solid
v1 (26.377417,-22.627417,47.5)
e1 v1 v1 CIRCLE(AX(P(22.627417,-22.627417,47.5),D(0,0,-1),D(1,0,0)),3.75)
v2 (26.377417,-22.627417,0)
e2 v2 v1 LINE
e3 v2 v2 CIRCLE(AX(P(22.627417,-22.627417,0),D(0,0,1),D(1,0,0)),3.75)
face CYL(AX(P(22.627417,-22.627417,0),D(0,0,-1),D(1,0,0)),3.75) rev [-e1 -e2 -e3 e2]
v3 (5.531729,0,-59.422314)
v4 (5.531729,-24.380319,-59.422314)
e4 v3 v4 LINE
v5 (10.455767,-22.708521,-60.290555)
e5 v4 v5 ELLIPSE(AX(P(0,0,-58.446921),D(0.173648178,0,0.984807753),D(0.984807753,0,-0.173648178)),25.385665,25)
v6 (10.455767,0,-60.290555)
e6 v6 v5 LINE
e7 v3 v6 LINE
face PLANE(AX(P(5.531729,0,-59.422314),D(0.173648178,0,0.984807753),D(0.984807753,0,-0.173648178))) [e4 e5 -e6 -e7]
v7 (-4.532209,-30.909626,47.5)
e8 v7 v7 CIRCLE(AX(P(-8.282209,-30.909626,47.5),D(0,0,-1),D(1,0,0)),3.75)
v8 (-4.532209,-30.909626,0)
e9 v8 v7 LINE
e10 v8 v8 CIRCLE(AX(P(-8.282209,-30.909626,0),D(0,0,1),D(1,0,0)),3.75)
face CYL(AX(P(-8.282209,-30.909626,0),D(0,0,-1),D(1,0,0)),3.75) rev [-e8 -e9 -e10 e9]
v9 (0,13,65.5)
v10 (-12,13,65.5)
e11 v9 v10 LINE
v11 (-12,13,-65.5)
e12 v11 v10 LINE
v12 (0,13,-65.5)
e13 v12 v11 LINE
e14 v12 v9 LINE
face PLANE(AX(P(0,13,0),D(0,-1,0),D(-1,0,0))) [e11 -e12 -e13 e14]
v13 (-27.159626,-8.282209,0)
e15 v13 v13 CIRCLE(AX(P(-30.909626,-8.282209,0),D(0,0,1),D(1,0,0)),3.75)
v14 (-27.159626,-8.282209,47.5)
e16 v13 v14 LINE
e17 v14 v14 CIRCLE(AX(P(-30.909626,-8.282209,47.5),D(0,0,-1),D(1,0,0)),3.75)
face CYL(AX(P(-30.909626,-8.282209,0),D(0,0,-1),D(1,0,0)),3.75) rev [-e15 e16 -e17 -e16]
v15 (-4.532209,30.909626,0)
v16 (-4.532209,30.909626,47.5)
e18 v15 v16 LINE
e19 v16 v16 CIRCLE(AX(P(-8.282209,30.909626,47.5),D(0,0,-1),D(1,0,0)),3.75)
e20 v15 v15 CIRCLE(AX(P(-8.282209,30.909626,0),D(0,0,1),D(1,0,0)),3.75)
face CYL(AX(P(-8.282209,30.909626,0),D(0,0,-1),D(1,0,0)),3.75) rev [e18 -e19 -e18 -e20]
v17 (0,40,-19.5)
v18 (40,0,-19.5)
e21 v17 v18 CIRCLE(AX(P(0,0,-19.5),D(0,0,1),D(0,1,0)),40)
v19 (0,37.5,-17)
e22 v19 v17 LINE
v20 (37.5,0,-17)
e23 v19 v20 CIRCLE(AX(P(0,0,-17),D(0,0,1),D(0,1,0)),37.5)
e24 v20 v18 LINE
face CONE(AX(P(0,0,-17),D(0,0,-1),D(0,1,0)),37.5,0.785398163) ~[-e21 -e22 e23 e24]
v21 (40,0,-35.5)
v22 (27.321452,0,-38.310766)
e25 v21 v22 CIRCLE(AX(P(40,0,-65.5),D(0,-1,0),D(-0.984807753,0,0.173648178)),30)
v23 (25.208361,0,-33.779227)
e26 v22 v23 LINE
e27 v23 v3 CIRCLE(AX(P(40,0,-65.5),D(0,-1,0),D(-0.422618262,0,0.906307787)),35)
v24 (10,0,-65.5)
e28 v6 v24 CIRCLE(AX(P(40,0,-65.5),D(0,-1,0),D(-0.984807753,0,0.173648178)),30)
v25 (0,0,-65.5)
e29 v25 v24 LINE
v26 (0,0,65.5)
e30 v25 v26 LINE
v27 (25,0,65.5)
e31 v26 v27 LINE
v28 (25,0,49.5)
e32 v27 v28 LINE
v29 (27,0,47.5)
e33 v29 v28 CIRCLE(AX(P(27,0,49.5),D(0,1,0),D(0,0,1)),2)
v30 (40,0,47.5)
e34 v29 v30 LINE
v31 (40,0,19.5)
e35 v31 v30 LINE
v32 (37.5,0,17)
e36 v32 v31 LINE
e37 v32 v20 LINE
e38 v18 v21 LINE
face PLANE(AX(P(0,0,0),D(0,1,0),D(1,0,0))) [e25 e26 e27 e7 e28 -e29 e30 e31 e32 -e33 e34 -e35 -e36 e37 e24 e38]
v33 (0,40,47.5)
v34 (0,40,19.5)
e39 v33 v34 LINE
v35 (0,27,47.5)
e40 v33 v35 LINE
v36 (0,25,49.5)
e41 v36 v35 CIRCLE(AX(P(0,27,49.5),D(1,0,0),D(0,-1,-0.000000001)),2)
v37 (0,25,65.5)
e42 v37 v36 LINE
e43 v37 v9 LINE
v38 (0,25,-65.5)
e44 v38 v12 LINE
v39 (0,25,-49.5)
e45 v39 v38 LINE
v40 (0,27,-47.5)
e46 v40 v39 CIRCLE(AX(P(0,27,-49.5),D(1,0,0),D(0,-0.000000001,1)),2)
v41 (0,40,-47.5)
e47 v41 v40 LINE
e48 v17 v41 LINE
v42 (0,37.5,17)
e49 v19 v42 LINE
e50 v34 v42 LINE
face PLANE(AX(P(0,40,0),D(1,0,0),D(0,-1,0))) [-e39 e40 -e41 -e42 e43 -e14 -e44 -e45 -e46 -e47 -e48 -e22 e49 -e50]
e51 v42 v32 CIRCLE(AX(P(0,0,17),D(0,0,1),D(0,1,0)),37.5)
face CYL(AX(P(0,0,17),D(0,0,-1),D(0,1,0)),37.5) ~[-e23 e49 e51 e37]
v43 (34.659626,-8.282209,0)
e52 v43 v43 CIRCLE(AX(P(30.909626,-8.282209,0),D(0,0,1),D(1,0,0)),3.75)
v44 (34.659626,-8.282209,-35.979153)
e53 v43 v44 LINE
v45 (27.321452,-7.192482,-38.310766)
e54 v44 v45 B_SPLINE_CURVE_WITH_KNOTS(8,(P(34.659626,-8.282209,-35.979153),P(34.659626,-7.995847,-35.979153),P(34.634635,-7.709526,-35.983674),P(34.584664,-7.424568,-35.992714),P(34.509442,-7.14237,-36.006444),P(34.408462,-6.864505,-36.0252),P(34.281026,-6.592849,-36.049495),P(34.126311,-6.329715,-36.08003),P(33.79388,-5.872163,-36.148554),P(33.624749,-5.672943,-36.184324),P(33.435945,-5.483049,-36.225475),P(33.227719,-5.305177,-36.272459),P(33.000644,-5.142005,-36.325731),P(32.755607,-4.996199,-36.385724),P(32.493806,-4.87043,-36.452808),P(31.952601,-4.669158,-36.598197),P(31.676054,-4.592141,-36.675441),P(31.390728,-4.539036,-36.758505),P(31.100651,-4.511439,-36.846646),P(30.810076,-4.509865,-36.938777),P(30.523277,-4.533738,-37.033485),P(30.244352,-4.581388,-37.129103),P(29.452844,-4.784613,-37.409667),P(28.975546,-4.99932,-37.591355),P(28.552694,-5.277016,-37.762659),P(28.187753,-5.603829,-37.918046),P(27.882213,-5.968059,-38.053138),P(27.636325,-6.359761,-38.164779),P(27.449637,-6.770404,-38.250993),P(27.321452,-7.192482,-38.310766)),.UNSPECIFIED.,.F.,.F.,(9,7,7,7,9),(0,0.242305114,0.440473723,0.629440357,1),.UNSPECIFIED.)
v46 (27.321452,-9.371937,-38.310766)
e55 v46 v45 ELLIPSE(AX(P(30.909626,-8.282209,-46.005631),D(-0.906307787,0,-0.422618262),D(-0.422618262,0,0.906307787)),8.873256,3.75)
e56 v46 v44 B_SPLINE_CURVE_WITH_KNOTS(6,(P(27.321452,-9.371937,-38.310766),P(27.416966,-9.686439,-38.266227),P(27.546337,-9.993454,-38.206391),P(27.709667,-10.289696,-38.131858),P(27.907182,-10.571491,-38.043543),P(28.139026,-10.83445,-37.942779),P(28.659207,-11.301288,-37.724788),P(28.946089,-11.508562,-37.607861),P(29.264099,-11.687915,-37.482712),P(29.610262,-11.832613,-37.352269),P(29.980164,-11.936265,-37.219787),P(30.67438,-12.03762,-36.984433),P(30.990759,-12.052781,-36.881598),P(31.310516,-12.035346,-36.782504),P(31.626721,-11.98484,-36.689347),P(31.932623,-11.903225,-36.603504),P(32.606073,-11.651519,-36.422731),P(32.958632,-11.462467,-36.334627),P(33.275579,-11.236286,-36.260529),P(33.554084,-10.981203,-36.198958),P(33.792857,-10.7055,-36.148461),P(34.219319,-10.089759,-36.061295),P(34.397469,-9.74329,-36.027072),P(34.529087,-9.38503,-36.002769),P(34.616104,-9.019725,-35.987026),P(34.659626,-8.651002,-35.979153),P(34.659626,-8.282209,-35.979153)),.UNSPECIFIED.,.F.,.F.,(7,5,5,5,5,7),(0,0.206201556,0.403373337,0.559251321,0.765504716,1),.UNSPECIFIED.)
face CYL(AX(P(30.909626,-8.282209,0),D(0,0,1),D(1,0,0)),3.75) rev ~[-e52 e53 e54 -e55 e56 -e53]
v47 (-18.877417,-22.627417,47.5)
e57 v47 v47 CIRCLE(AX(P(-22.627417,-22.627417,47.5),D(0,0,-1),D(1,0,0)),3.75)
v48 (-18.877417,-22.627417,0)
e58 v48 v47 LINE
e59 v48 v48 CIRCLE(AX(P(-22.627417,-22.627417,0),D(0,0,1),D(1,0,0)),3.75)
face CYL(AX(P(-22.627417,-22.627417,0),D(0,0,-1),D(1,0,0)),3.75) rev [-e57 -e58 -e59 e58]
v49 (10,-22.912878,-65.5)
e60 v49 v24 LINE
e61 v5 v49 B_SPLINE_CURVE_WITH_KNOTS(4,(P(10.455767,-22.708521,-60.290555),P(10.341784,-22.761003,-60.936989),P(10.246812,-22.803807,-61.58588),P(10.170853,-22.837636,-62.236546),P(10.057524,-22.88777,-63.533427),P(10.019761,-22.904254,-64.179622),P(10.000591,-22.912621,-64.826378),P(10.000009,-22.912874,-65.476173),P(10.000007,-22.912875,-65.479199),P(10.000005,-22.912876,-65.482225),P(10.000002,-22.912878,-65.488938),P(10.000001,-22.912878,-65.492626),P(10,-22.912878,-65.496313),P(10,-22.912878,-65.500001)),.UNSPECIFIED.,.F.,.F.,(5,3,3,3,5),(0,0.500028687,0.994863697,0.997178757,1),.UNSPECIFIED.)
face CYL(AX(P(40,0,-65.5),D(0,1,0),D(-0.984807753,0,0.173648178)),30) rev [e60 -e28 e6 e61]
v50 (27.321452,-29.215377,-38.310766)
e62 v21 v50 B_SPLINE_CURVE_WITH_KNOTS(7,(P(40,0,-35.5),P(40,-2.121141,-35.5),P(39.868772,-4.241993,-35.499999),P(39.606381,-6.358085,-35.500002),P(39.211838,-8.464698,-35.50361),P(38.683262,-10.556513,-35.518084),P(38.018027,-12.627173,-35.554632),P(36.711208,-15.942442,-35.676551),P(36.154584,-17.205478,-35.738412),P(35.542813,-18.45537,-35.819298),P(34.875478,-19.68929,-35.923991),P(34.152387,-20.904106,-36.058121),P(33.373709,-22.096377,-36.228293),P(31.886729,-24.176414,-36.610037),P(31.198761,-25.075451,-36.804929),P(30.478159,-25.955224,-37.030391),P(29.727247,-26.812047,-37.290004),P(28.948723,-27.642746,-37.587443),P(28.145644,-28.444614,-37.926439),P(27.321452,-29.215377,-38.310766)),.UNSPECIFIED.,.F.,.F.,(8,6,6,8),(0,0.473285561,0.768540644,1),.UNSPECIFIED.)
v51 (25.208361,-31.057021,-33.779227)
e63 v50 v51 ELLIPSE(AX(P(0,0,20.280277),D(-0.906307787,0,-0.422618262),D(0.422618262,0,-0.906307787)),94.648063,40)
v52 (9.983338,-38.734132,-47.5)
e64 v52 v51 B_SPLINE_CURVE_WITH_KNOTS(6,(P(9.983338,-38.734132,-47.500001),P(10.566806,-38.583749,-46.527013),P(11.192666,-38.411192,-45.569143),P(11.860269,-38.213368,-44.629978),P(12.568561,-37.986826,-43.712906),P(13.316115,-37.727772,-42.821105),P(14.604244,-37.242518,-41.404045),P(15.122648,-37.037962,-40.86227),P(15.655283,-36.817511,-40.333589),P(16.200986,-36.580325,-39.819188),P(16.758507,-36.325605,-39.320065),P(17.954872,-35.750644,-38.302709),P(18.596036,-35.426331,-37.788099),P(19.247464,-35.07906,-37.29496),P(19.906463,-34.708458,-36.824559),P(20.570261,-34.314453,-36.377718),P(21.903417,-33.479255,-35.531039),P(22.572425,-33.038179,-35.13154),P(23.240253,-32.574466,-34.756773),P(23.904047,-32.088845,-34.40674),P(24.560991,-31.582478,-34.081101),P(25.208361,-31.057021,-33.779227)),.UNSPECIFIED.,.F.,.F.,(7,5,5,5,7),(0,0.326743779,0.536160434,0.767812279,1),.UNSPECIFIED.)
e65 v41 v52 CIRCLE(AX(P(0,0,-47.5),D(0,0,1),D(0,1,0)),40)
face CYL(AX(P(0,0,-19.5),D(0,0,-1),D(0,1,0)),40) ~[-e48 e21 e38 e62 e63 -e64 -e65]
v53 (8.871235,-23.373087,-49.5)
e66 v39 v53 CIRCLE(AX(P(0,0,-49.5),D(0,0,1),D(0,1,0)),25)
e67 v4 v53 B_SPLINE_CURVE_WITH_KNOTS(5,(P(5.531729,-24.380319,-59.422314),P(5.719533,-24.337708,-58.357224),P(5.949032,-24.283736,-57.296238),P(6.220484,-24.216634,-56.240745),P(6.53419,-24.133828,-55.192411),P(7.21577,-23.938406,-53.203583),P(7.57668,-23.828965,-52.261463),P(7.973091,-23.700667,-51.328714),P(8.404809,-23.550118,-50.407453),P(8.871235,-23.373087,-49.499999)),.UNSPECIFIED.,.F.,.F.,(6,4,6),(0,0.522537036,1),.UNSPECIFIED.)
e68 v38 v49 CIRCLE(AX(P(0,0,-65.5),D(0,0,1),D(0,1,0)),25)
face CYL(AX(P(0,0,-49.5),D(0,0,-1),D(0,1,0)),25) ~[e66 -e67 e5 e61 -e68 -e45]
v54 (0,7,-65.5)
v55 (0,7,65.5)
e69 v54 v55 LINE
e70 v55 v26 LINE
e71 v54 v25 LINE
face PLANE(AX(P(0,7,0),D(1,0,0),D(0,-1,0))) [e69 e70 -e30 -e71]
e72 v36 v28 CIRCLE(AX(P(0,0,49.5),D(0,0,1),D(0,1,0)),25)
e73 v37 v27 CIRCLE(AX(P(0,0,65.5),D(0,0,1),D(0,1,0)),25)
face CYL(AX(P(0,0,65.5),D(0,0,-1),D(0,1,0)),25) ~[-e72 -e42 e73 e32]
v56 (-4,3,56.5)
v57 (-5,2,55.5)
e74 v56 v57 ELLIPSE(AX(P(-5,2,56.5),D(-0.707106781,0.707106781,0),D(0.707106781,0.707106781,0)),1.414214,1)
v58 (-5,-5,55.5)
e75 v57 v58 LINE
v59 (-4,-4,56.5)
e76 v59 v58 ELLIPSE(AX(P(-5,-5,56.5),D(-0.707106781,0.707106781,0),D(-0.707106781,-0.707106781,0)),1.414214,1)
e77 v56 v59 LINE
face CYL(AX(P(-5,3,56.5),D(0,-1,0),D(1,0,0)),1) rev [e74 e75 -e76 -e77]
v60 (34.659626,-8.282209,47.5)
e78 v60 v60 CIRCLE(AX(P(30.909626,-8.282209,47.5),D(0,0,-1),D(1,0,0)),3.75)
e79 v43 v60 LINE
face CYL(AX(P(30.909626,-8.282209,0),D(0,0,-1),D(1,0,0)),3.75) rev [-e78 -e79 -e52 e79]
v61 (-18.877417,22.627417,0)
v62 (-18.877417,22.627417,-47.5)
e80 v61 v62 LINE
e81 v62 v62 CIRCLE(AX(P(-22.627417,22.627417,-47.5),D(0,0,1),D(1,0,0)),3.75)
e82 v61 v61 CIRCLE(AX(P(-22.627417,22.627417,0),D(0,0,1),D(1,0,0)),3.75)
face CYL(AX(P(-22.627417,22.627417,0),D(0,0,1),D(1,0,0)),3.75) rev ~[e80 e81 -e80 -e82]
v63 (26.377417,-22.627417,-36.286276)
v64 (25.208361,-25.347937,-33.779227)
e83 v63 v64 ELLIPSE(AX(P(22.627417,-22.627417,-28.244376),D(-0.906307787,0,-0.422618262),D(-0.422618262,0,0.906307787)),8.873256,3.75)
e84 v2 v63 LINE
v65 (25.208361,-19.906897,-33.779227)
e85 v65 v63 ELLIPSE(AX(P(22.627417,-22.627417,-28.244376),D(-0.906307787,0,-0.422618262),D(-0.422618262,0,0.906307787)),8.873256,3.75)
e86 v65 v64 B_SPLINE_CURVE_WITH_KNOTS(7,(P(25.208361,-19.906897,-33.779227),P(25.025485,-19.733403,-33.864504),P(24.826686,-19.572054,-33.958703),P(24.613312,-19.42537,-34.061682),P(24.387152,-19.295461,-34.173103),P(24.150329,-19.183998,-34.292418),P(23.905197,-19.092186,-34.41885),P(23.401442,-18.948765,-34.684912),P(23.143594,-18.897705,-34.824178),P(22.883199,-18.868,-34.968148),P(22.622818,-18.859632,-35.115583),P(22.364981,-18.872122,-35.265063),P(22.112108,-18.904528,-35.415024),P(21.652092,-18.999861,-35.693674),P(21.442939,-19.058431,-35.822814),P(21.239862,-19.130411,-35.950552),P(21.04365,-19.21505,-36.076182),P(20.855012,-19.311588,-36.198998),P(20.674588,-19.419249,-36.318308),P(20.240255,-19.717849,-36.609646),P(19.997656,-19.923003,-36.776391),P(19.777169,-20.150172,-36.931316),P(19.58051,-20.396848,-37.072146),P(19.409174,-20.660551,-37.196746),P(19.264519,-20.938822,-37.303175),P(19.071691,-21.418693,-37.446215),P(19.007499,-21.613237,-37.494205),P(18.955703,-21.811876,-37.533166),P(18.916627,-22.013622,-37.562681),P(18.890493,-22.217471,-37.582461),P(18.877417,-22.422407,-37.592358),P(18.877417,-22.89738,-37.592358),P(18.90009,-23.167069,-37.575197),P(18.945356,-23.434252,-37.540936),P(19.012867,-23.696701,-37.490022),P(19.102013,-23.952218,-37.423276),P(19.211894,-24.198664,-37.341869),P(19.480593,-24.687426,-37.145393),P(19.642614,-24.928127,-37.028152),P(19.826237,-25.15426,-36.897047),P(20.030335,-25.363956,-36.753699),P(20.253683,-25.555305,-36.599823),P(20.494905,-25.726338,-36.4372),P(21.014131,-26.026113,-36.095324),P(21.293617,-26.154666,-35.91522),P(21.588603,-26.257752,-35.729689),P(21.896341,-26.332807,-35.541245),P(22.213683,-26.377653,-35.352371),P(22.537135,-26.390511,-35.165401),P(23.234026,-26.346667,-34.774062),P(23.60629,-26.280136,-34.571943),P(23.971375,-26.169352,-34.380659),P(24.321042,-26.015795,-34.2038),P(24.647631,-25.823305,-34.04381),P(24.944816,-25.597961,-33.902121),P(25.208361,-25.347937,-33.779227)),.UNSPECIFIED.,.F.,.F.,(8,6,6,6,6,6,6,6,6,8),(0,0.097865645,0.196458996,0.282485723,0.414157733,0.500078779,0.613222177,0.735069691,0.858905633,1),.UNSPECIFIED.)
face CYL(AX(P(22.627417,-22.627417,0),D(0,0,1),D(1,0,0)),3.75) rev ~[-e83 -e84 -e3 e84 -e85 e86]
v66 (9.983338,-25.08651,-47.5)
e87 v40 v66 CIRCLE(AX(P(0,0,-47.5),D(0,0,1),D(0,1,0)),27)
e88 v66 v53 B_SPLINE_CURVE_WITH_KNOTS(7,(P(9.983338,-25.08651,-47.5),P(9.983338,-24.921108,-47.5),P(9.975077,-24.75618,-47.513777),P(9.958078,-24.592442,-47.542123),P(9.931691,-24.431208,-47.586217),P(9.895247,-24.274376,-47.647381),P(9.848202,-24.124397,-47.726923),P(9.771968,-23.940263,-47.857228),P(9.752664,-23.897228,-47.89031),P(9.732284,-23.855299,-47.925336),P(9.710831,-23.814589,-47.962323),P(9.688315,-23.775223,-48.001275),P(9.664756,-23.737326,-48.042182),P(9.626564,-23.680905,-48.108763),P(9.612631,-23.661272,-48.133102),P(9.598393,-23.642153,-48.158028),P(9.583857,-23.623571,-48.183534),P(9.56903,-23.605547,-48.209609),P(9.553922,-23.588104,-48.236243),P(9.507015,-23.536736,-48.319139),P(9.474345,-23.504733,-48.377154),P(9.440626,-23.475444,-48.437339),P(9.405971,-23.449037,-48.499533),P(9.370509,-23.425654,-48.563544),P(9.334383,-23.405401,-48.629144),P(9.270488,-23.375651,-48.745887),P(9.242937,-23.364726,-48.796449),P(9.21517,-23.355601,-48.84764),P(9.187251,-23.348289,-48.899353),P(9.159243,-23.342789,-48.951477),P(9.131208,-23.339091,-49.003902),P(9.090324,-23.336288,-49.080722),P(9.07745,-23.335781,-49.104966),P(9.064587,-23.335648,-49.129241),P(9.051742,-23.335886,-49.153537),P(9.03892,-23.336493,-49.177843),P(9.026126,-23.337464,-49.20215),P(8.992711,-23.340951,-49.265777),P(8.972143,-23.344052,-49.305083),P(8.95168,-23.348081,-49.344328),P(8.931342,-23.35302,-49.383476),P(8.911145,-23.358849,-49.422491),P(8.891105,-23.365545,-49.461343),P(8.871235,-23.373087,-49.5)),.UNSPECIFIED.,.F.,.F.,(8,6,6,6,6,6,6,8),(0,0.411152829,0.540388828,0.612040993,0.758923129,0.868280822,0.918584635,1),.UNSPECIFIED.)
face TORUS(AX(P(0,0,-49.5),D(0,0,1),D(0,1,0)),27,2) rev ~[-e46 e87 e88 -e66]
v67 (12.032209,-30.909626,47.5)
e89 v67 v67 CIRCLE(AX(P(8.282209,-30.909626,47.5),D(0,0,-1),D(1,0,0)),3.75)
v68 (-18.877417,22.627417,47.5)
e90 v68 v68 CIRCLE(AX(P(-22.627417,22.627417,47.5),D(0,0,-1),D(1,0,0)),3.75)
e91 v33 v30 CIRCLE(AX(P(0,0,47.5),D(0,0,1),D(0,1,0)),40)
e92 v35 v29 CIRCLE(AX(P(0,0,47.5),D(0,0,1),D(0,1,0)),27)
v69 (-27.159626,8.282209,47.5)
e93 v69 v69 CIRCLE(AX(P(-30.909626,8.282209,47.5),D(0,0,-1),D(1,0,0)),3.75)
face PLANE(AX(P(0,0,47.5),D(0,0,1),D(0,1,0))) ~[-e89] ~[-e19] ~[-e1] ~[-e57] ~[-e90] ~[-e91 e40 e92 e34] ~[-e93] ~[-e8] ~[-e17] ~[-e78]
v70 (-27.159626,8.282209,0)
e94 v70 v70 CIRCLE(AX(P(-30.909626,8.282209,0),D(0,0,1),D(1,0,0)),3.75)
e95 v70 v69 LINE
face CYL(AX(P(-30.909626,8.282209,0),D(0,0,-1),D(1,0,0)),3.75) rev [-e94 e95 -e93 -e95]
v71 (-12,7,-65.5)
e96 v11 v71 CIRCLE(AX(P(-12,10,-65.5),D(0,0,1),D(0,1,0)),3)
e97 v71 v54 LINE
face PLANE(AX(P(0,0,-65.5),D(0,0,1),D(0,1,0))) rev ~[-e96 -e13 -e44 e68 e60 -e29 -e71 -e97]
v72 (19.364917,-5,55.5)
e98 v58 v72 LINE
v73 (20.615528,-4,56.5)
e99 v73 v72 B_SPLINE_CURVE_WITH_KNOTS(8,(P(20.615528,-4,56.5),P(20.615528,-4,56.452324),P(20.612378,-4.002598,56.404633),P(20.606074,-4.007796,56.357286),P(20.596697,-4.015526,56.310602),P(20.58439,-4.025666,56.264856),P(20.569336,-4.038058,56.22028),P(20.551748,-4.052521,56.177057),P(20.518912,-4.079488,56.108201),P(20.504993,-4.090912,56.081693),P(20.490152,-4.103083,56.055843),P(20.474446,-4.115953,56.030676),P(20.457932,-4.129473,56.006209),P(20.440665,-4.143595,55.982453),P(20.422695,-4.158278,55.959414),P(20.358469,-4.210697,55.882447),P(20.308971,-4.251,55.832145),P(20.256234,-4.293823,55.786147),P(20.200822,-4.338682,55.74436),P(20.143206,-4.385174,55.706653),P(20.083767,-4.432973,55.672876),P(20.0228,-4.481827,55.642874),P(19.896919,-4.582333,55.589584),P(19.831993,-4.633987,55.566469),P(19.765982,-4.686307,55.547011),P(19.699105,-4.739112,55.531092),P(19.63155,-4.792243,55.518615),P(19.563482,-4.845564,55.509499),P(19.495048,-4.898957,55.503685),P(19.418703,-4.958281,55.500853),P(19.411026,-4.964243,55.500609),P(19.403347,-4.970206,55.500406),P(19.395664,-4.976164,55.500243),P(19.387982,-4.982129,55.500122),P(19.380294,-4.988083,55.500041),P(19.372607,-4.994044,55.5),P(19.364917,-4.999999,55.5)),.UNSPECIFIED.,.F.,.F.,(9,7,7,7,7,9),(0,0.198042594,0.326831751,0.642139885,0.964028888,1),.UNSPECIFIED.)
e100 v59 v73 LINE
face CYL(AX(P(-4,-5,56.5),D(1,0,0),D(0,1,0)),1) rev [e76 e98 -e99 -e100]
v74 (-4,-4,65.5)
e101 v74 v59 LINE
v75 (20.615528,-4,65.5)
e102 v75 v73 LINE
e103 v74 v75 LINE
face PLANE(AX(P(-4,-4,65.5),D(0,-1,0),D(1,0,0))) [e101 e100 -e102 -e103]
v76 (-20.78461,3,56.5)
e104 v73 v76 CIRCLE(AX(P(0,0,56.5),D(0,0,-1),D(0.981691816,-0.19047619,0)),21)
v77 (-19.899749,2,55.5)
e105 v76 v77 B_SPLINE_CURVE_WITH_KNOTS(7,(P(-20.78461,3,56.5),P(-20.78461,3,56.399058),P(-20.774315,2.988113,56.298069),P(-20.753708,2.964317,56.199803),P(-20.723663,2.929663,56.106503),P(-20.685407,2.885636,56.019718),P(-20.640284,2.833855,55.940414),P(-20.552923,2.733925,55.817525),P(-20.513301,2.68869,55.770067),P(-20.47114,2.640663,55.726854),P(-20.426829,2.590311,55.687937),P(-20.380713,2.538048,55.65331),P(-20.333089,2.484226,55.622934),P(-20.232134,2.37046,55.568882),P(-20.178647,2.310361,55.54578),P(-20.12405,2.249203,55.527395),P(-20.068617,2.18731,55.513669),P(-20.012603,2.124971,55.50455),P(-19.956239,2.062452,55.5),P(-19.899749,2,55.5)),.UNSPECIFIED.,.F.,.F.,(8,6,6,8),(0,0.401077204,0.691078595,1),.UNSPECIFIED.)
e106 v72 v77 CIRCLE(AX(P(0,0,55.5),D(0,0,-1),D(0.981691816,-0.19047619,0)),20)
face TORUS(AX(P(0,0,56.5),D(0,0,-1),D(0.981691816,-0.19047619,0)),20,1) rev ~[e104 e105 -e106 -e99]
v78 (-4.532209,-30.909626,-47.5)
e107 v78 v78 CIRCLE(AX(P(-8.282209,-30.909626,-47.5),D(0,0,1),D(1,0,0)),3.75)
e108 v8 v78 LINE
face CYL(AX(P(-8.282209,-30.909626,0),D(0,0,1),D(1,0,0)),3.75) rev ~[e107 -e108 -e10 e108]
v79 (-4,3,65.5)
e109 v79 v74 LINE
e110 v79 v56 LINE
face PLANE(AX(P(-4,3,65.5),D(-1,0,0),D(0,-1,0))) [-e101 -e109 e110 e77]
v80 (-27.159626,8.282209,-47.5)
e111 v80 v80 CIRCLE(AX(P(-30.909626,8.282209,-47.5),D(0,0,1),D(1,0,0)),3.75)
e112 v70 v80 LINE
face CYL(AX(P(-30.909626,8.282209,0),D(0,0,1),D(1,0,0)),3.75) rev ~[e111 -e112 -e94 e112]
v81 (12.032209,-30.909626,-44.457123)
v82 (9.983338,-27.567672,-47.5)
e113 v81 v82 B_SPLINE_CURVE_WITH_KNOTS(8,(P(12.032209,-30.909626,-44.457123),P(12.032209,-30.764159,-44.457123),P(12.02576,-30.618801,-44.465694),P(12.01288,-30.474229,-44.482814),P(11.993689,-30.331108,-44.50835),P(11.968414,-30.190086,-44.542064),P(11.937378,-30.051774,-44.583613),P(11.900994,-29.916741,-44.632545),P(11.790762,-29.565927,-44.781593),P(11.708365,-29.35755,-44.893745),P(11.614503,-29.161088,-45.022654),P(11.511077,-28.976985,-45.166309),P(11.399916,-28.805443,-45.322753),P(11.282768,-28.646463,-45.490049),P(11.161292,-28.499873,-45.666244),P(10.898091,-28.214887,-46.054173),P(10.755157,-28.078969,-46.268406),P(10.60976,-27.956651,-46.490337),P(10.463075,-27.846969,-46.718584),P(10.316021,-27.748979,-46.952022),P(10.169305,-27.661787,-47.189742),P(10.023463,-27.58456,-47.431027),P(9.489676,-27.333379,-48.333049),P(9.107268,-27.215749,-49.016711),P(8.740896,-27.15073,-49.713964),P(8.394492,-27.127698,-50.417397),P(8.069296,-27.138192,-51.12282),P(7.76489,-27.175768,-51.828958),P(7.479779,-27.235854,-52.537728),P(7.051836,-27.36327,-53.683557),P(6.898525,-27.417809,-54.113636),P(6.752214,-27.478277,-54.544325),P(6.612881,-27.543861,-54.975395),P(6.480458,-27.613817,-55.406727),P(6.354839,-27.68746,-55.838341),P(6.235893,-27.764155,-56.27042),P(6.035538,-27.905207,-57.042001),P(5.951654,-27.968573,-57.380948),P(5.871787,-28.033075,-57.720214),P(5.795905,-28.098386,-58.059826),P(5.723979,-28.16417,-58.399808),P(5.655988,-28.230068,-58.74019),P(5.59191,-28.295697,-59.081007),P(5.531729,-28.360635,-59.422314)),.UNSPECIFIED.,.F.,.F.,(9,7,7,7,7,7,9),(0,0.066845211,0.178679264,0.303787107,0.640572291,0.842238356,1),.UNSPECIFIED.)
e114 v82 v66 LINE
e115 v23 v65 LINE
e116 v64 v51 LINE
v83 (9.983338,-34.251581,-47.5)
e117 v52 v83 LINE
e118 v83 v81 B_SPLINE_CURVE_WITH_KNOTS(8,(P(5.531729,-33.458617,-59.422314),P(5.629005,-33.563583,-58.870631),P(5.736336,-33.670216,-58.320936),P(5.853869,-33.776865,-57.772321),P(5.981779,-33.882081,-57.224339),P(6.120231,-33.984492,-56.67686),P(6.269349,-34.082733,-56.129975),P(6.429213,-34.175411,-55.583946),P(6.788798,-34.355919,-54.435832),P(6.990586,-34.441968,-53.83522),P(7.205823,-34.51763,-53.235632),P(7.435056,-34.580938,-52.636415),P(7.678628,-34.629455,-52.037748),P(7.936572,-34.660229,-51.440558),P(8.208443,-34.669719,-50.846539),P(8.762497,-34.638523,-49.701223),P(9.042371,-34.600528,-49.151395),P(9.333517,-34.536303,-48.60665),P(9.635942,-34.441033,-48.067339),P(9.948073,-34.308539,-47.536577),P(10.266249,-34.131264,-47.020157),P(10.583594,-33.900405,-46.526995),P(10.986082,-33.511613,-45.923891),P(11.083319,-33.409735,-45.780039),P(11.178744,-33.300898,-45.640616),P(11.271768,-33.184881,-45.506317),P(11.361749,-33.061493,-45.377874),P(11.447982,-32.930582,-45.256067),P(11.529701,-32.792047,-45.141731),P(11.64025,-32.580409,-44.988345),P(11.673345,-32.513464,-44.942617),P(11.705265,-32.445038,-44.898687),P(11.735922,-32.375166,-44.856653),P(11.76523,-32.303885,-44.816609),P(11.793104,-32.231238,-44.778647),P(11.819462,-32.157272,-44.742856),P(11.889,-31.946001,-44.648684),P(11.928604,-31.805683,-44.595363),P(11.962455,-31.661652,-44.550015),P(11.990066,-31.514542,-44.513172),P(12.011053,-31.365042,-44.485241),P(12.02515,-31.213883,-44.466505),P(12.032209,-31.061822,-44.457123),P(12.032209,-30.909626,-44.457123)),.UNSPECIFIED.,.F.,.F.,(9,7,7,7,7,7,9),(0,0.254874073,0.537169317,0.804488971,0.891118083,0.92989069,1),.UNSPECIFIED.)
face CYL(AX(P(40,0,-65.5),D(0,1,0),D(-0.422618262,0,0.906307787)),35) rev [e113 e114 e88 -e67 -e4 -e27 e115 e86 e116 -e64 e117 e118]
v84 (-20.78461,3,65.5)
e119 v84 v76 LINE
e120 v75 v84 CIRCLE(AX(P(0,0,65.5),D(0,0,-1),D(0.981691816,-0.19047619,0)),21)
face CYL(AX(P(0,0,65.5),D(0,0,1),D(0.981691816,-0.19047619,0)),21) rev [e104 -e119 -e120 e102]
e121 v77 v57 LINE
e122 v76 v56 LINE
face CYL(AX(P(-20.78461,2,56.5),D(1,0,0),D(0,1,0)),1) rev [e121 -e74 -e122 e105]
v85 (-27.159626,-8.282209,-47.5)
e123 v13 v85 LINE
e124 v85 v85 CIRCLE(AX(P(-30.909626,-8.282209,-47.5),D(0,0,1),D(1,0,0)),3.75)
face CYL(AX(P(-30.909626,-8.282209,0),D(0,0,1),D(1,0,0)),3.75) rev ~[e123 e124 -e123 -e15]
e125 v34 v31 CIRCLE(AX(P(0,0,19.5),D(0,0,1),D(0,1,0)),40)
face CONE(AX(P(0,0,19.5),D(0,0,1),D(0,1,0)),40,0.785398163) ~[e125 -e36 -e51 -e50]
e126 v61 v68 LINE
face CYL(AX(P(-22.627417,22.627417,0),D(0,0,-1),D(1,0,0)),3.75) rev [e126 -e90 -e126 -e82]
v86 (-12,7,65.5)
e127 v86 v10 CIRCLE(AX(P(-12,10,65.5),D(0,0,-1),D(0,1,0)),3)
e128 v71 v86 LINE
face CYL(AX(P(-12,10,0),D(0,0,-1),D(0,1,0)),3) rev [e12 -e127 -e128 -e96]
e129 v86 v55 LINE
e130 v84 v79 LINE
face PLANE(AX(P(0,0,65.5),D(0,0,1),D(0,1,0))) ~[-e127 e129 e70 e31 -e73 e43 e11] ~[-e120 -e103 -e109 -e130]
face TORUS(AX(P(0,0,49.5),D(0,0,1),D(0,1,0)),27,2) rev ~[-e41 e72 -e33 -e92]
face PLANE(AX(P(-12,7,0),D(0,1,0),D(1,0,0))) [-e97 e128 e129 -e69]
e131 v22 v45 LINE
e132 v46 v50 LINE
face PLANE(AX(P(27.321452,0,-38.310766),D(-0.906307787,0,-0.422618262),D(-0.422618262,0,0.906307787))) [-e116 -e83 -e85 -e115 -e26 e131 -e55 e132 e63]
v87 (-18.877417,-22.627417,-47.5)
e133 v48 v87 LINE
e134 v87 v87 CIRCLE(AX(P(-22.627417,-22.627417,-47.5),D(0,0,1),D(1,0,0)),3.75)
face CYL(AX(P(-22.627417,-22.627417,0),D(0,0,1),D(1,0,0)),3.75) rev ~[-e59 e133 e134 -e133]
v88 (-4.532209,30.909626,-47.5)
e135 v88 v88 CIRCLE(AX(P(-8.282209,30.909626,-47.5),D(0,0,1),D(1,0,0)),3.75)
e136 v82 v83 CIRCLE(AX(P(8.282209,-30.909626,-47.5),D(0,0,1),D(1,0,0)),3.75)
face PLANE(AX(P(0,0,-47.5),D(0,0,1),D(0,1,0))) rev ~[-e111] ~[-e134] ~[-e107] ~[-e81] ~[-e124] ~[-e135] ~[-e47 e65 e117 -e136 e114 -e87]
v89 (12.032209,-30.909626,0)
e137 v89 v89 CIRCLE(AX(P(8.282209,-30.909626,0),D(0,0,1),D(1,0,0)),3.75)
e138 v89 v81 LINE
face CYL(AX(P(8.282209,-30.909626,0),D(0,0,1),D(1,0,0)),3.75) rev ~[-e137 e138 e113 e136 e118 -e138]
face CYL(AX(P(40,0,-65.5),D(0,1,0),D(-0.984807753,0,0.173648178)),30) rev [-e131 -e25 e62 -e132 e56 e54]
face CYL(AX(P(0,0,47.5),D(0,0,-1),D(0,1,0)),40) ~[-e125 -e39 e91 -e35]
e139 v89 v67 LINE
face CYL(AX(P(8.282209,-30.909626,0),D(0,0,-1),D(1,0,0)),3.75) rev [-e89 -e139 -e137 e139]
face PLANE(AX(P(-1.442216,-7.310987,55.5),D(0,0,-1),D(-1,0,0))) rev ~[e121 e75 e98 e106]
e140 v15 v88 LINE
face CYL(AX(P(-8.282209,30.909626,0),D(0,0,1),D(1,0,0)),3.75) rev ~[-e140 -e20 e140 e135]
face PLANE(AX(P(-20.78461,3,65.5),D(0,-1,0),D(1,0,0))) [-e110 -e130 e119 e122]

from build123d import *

# Parameters (mm, degrees)
CUT_EXTRUDE1_DEPTH      = 66.5
CUT_EXTRUDE1_DEPTH_BACK = 66.5
CUT_EXTRUDE3_DEPTH      = 41
SKETCH4_R               = 3.75
CUT_EXTRUDE4_DEPTH      = 66.5000001
CUT_EXTRUDE4_DEPTH_BACK = 66.5000001
CUT_EXTRUDE5_DEPTH      = 10
FILLET1_R               = 1


with BuildPart() as part:
    # Sketch1 → Revolve1 (revolve)
    with BuildSketch(Plane(origin=(0, 0, 0), x_dir=(0, 0, -1), z_dir=(1, 0, 0))):
        with BuildLine():
            Line((65.5, 0), (-65.5, 0))
            Line((-65.5, 0), (-65.5, 25))
            Line((-65.5, 25), (-49.5, 25))
            ThreePointArc((-49.5, 25), (-48.085786438, 25.585786438), (-47.5, 27))
            Line((-47.5, 27), (-47.5, 40))
            Line((-47.5, 40), (-19.5, 40))
            Line((-19.5, 40), (-17, 37.5))
            Line((-17, 37.5), (17, 37.5))
            Line((17, 37.5), (19.5, 40))
            Line((19.5, 40), (47.5, 40))
            Line((47.5, 40), (47.5, 27))
            ThreePointArc((47.5, 27), (48.085786438, 25.585786438), (49.5, 25))
            Line((49.5, 25), (65.5, 25))
            Line((65.5, 25), (65.5, 0))
        make_face()
    revolve(axis=Axis((0, 0, -65.5), (0, 0, 1)))

    # Sketch2 → Cut-Extrude1 (cut, two sides)
    with BuildSketch(Plane.XY) as cut_extrude1_sk:
        with BuildLine():
            Line((0, 40), (0, 13))
            Line((0, 13), (-12, 13))
            ThreePointArc((-12, 13), (-15, 10), (-12, 7))
            Line((-12, 7), (0, 7))
            Line((0, 7), (0, 0))
            Line((0, 0), (40, 0))
            ThreePointArc((40, 0), (28.284271247, 28.284271247), (0, 40))
        make_face()
    extrude(amount=CUT_EXTRUDE1_DEPTH, mode=Mode.SUBTRACT)
    extrude(cut_extrude1_sk.sketch, amount=-CUT_EXTRUDE1_DEPTH_BACK, mode=Mode.SUBTRACT)

    # Sketch3 → Cut-Extrude3 (cut, through all)
    with BuildSketch(Plane(origin=(0, 0, 0), x_dir=(1, 0, 0), z_dir=(0, 1, 0))):
        with BuildLine():
            Line((27.321452148, 38.310766389), (25.208360839, 33.779227454))
            ThreePointArc((25.208360839, 33.779227454), (12.23263309, 44.193349985), (5.531728645, 59.422313782))
            Line((5.531728645, 59.422313782), (10.45576741, 60.29055467))
            ThreePointArc((10.45576741, 60.29055467), (63.800600209, 83.76284287), (27.321452148, 38.310766389))
        make_face()
    extrude(amount=-CUT_EXTRUDE3_DEPTH, mode=Mode.SUBTRACT)

    # Sketch4 → Cut-Extrude4 (cut, two sides)
    with BuildSketch(Plane.XY) as cut_extrude4_sk:
        with Locations((-8.282209443, 30.909626441)):
            Circle(SKETCH4_R)
        with Locations((8.282209443, 30.909626441)):
            Circle(SKETCH4_R)
        with Locations((22.627416998, 22.627416998)):
            Circle(SKETCH4_R)
        with Locations((30.909626441, 8.282209443)):
            Circle(SKETCH4_R)
        with Locations((30.909626441, -8.282209443)):
            Circle(SKETCH4_R)
        with Locations((22.627416998, -22.627416998)):
            Circle(SKETCH4_R)
        with Locations((8.282209443, -30.909626441)):
            Circle(SKETCH4_R)
        with Locations((-8.282209443, -30.909626441)):
            Circle(SKETCH4_R)
        with Locations((-22.627416998, -22.627416998)):
            Circle(SKETCH4_R)
        with Locations((-30.909626441, -8.282209443)):
            Circle(SKETCH4_R)
        with Locations((-30.909626441, 8.282209443)):
            Circle(SKETCH4_R)
        with Locations((-22.627416998, 22.627416998)):
            Circle(SKETCH4_R)
    extrude(amount=CUT_EXTRUDE4_DEPTH, mode=Mode.SUBTRACT)
    extrude(cut_extrude4_sk.sketch, amount=-CUT_EXTRUDE4_DEPTH_BACK, mode=Mode.SUBTRACT)

    # Sketch5 → Cut-Extrude5 (cut)
    with BuildSketch(Plane.XY.offset(65.5)):
        with BuildLine():
            Line((-20.784609691, 3), (-4, 3))
            Line((-4, 3), (-4, -4))
            Line((-4, -4), (20.615528128, -4))
            ThreePointArc((20.615528128, -4), (-3.501020872, -20.706106656), (-20.784609691, 3))
        make_face()
    extrude(amount=-CUT_EXTRUDE5_DEPTH, mode=Mode.SUBTRACT)

    # Fillet1
    fillet1_edges = [part.edges().sort_by_distance(p)[0] for p in [
        (-3.501020872, -20.706106656, 55.5),
        (-12.392304845, 3, 55.5),
        (-4, -0.5, 55.5),
        (8.307764064, -4, 55.5),
    ]]
    fillet(fillet1_edges, radius=FILLET1_R)


solid = part.part
